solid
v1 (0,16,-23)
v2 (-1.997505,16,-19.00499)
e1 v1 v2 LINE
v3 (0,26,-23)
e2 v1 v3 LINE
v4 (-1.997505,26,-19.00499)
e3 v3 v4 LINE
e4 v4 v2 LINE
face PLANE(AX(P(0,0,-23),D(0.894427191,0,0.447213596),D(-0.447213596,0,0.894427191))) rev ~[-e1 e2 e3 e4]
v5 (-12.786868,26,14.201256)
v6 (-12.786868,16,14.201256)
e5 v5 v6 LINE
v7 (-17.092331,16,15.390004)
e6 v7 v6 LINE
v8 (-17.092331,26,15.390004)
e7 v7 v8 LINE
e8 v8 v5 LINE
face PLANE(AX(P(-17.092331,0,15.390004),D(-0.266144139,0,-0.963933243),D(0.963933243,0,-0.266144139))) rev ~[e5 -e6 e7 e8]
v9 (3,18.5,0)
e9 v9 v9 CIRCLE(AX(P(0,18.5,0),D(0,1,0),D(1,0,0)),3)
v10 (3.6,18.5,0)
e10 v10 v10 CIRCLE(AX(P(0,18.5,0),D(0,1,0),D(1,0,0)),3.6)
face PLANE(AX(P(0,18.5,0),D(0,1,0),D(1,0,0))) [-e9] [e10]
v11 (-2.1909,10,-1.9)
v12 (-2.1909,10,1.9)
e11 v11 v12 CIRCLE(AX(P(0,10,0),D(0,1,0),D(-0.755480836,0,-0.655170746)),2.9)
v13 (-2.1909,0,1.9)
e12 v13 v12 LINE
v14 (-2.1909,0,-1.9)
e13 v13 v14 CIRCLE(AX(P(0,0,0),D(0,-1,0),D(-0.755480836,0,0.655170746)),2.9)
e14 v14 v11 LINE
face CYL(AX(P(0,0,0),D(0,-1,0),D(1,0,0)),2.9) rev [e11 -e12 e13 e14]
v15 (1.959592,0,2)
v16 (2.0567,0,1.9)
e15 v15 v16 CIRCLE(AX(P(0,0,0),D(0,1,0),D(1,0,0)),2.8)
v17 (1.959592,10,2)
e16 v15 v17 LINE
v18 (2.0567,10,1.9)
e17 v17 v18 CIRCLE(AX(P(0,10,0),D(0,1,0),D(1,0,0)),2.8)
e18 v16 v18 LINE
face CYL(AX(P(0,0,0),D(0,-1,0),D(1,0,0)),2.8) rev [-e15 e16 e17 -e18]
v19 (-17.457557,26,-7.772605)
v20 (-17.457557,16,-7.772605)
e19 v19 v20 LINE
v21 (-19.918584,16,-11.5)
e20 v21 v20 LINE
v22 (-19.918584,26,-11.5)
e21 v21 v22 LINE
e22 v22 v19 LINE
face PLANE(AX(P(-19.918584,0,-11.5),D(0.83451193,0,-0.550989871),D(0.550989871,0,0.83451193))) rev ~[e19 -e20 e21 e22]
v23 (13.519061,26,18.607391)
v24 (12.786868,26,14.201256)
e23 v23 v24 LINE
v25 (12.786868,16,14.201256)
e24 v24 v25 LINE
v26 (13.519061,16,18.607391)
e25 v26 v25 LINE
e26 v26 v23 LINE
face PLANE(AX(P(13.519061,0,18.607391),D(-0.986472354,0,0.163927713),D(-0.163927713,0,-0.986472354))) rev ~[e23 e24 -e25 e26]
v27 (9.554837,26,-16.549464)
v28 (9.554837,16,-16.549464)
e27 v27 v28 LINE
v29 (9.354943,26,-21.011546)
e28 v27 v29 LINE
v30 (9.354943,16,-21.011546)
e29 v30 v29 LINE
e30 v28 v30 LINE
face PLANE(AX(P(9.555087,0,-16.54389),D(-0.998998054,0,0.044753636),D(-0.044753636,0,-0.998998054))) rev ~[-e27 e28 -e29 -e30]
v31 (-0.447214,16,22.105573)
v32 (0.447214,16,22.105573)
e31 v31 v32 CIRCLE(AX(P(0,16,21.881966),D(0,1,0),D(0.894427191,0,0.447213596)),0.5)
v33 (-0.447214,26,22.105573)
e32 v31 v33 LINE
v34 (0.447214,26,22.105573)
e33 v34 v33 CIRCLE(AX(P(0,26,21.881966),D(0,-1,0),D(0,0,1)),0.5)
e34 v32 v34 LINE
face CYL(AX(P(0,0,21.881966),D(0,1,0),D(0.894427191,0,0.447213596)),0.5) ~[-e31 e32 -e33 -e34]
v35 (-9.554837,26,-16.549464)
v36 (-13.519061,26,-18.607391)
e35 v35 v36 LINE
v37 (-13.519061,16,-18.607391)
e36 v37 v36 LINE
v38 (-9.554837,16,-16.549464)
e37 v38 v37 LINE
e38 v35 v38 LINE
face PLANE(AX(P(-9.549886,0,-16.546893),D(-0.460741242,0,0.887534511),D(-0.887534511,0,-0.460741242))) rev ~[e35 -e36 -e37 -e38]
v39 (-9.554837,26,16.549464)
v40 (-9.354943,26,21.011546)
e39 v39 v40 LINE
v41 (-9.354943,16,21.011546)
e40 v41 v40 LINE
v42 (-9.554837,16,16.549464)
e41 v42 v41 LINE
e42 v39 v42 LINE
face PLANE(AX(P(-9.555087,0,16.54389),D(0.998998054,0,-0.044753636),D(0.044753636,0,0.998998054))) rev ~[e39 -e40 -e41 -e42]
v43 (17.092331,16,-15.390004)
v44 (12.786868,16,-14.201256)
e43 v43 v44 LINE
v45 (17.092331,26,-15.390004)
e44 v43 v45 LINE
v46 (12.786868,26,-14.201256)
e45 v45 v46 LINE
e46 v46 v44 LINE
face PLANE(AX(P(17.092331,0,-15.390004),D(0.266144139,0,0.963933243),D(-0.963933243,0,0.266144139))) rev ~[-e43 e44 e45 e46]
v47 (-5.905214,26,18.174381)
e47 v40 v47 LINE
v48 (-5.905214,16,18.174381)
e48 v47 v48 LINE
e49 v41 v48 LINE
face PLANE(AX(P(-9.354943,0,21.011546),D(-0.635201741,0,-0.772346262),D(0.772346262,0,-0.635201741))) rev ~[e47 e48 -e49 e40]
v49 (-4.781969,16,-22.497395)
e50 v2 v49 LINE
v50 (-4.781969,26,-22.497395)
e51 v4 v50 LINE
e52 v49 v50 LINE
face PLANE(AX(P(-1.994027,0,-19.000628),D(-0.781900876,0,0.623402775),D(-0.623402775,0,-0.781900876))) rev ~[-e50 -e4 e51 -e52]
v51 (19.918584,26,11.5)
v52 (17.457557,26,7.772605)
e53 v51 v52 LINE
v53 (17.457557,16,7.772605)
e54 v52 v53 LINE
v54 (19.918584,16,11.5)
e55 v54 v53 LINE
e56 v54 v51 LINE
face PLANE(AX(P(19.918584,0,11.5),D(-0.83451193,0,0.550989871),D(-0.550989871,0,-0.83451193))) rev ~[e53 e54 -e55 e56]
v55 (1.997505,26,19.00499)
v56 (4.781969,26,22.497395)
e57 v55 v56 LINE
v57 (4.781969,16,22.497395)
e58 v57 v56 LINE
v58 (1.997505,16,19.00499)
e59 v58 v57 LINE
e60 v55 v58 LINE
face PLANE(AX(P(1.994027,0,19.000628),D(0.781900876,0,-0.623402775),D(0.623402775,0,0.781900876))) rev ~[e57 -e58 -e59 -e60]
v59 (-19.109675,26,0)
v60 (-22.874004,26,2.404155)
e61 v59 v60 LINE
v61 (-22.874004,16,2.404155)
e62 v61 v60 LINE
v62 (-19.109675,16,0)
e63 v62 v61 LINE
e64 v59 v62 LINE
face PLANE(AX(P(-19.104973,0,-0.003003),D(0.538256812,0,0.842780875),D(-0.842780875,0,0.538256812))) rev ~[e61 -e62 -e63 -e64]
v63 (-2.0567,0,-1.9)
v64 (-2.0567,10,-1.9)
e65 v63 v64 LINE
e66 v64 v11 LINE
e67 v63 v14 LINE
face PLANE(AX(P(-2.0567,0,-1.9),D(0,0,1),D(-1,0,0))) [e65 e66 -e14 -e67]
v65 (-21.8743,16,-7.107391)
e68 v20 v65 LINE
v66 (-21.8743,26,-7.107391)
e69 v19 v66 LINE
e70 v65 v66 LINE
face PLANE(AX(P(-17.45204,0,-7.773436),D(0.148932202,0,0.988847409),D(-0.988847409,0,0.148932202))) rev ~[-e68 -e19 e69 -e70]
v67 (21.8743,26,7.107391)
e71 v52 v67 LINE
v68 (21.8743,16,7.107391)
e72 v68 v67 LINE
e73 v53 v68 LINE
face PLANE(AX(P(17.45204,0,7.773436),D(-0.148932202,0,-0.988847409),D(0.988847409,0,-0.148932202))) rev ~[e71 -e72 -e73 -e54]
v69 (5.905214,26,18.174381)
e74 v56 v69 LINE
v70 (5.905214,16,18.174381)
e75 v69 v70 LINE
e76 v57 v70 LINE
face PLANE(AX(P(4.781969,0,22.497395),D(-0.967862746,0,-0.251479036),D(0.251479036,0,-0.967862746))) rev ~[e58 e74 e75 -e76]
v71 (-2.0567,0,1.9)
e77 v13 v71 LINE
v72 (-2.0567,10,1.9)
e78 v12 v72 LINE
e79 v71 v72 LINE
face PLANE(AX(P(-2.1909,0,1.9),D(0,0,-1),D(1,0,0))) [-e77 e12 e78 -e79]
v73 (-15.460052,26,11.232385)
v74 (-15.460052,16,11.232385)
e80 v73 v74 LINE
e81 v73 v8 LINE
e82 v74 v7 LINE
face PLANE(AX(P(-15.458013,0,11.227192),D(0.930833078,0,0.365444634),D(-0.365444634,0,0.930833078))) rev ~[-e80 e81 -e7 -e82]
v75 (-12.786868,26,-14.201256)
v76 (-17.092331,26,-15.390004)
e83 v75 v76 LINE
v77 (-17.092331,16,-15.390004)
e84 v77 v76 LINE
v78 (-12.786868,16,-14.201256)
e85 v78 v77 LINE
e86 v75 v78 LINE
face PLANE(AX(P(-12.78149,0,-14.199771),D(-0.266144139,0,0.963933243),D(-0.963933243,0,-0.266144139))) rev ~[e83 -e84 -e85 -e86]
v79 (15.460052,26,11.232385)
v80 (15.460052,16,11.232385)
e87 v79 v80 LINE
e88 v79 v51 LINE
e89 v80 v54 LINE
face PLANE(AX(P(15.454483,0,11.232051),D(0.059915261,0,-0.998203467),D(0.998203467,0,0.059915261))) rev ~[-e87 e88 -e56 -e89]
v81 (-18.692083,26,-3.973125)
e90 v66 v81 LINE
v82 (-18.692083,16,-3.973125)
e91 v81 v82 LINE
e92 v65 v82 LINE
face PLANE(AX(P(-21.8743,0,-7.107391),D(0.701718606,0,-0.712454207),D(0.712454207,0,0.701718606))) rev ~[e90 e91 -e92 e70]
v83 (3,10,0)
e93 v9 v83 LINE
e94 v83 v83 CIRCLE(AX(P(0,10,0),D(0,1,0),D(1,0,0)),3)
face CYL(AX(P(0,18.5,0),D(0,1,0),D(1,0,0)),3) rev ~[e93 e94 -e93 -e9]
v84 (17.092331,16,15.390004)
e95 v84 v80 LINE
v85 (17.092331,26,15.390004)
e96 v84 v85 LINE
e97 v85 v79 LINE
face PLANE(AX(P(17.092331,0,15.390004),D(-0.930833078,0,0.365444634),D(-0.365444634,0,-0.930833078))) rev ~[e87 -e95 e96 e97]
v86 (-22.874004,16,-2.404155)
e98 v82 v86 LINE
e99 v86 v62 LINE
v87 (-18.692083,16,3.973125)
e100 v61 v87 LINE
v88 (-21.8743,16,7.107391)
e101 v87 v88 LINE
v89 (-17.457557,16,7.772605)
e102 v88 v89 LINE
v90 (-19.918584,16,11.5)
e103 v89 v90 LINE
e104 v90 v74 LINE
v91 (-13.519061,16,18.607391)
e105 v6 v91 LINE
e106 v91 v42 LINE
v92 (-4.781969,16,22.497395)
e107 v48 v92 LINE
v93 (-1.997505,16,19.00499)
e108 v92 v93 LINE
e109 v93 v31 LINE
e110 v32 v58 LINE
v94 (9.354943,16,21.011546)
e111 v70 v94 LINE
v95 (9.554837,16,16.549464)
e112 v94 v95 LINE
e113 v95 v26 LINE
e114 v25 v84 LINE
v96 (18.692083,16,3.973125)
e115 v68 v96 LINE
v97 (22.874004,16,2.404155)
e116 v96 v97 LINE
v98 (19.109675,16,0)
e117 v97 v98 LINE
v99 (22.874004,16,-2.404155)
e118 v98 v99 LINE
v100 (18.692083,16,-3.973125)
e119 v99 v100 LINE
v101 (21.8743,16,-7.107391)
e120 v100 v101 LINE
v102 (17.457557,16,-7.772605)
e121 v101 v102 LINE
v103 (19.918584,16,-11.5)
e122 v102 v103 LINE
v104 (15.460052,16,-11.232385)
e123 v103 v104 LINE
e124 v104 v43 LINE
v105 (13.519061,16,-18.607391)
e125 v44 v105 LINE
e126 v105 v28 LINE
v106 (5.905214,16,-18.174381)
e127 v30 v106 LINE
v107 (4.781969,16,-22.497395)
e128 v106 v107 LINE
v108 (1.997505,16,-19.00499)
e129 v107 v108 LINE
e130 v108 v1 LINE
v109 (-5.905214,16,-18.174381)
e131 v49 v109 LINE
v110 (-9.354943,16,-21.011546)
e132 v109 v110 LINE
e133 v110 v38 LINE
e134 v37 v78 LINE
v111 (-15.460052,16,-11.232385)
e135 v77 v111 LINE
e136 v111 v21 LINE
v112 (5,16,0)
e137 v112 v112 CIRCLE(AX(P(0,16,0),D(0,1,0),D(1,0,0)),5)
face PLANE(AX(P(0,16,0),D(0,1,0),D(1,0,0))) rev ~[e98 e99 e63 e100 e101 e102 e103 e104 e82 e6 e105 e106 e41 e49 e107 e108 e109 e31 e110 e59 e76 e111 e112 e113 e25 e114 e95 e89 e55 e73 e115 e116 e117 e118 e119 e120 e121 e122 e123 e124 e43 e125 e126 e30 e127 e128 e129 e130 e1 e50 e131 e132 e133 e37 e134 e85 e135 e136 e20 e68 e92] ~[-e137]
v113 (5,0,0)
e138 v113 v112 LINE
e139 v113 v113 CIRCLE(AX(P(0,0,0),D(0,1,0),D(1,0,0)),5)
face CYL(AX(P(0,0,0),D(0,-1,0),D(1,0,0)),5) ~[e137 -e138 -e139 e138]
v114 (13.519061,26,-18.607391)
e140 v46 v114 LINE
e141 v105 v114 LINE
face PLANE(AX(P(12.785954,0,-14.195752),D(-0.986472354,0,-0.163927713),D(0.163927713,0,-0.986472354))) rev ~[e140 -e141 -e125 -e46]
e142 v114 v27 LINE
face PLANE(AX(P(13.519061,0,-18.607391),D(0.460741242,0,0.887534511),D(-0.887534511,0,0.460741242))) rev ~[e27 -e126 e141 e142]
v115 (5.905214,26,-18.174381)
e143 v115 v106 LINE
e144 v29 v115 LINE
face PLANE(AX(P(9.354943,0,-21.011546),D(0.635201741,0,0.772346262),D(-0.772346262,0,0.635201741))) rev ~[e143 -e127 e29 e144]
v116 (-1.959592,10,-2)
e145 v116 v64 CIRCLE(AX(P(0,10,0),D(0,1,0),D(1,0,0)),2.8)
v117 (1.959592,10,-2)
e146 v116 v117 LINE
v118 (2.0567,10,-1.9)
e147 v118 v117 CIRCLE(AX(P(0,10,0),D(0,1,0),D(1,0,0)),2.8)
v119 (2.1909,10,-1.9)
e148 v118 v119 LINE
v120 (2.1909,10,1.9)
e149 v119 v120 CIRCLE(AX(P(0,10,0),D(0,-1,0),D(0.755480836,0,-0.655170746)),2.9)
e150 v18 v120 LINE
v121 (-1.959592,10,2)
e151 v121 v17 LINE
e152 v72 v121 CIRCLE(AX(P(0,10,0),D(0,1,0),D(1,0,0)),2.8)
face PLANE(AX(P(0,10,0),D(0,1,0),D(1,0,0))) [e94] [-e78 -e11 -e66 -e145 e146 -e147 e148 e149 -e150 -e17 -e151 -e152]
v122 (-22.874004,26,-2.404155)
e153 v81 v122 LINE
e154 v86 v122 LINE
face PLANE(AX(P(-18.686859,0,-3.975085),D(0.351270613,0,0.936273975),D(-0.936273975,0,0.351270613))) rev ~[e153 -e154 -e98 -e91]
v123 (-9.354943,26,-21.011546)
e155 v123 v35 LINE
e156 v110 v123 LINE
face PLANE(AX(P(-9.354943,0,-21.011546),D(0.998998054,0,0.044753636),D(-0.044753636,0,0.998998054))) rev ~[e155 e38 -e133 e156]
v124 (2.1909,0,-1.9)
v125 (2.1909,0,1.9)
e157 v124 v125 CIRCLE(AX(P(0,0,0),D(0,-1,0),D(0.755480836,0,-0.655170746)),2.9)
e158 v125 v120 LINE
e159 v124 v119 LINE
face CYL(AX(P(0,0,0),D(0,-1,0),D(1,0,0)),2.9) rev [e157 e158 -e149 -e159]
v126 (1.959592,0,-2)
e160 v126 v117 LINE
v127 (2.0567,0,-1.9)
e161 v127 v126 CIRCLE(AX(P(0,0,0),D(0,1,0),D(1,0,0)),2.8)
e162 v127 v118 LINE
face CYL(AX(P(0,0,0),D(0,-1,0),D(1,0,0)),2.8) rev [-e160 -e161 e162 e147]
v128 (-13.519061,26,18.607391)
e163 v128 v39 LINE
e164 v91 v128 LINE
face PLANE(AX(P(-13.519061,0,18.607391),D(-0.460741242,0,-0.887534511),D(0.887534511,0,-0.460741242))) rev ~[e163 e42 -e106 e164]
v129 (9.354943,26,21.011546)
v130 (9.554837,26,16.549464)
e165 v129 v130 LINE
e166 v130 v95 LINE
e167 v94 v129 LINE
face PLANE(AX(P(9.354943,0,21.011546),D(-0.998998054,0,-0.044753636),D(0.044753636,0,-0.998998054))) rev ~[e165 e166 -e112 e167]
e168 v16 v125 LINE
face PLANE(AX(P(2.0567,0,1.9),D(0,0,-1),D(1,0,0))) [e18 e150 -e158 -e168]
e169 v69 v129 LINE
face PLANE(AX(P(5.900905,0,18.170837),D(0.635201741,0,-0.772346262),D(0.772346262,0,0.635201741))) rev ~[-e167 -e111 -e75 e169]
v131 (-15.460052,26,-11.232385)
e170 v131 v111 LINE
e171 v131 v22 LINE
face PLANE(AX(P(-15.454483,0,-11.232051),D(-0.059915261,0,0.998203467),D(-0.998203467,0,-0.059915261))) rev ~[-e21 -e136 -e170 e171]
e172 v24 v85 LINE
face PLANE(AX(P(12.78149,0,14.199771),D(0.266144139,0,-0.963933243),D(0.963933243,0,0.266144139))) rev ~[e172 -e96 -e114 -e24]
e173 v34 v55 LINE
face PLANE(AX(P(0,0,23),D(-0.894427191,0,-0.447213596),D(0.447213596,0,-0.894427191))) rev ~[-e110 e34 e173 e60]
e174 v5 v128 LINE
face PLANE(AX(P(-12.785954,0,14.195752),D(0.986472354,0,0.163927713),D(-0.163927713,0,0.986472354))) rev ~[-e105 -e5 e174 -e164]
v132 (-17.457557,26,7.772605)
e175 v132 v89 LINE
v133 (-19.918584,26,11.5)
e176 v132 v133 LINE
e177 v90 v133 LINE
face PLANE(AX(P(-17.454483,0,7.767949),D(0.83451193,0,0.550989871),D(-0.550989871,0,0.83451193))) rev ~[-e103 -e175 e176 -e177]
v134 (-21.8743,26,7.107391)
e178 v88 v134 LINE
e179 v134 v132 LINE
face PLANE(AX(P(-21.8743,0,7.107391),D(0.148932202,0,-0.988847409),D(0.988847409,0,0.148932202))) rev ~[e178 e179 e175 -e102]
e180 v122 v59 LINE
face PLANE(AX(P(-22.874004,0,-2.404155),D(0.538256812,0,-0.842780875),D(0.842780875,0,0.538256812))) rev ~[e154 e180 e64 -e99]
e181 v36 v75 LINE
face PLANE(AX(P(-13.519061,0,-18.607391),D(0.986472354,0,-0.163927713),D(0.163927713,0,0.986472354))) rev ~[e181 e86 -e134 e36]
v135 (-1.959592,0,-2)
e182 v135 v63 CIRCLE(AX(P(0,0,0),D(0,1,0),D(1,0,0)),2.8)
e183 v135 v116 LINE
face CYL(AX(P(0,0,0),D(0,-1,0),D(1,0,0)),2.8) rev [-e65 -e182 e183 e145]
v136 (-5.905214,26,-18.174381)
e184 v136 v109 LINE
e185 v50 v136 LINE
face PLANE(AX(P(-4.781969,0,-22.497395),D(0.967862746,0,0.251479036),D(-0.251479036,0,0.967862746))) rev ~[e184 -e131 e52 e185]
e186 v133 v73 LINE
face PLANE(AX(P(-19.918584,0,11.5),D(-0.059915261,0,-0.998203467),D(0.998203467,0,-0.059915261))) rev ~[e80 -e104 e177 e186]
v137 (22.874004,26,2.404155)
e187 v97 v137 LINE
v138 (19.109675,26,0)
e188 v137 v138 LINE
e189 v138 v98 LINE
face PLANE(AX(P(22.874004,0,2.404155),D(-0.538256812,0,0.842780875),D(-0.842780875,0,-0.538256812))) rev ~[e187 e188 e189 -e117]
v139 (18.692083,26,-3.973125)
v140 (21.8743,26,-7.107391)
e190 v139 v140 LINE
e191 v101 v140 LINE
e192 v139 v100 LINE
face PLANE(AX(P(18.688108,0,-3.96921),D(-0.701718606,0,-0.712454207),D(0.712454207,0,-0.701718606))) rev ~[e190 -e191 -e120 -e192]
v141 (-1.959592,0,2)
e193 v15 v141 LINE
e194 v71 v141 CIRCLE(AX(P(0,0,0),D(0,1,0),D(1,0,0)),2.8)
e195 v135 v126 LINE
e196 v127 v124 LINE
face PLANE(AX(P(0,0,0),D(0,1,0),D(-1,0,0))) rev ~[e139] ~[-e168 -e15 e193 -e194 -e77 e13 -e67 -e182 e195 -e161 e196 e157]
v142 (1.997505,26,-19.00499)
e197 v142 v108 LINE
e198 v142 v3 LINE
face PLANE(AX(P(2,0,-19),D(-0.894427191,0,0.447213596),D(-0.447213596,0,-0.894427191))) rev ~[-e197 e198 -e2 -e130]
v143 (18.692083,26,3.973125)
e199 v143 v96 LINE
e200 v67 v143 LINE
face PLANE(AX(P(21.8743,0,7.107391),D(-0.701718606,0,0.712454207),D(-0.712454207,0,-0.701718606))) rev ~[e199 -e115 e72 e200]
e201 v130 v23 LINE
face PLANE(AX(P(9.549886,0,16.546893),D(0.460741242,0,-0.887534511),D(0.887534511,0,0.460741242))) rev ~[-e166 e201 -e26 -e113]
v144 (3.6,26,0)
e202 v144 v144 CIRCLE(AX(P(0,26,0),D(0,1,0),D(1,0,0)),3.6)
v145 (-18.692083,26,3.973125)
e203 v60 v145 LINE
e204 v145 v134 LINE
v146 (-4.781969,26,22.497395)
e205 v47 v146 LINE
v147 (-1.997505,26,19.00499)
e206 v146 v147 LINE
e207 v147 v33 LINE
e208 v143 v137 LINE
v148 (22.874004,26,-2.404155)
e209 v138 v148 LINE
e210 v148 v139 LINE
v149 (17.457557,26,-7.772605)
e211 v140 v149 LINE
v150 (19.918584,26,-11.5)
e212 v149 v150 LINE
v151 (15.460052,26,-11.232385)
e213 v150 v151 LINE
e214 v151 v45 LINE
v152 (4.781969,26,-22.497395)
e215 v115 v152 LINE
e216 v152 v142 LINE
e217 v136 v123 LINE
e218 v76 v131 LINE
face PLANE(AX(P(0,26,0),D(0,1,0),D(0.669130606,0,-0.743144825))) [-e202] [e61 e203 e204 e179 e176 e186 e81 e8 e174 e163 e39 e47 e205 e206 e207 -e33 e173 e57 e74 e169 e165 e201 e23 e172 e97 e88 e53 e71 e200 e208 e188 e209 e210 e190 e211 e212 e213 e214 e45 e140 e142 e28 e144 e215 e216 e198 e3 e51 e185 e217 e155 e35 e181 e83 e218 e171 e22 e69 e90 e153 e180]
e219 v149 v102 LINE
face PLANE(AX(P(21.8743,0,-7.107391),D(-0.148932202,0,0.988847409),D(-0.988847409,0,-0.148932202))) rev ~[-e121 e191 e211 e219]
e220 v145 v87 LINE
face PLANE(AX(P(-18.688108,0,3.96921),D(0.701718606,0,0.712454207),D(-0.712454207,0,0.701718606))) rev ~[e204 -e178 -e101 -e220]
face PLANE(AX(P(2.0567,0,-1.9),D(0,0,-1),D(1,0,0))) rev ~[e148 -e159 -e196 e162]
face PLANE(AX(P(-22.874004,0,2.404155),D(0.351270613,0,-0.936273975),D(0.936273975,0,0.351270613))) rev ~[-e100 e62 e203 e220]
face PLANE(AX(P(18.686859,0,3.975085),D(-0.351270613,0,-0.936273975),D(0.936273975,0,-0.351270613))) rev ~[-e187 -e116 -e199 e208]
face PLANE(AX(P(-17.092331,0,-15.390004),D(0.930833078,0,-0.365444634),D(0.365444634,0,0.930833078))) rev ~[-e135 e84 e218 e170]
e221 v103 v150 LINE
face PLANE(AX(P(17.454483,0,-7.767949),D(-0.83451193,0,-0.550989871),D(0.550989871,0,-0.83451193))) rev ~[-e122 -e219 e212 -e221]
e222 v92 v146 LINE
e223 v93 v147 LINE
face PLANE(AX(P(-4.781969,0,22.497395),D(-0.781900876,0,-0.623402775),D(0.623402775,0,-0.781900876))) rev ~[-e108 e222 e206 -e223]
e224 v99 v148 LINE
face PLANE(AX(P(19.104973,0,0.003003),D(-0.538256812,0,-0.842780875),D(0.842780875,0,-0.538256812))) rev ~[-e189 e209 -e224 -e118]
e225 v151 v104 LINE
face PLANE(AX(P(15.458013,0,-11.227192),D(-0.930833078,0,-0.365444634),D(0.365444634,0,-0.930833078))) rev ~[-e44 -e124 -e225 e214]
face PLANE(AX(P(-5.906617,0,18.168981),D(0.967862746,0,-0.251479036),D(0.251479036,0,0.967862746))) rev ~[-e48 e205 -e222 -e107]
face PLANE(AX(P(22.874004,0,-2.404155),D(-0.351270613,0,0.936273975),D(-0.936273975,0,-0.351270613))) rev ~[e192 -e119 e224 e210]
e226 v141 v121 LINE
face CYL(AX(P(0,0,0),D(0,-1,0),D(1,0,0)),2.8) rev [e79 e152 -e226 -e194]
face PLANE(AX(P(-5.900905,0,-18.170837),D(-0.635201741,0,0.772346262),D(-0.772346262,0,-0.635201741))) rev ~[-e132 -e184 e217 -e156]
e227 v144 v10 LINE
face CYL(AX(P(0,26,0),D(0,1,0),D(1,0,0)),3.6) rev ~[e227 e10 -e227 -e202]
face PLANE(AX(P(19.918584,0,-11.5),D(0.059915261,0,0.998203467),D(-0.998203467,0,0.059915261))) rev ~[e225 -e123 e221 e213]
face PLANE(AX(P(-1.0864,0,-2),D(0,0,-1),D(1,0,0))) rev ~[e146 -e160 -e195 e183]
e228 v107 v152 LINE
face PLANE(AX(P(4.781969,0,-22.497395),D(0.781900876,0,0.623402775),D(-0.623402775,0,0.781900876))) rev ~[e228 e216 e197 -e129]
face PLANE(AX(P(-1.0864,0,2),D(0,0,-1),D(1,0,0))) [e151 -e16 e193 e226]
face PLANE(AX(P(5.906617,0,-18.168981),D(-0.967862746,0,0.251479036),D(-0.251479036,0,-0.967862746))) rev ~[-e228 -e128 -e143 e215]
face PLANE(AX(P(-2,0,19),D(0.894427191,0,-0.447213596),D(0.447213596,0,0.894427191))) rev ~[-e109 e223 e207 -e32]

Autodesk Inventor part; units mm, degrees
ref_plane "YZ Plane" through (0, 0, 0) normal (1, 0, 0) x (0, 1, 0)
ref_plane "XZ Plane" through (0, 0, 0) normal (0, 1, 0) x (-1, 0, 0)
ref_plane "XY Plane" through (0, 0, 0) normal (0, 0, 1) x (1, 0, 0)
sketch "Sketch1" plane through (0, 0, 0) normal (0, 1, 0) x (-1, 0, 0)
  line L0 (-2, 0) -> (2, 0)
  line L1 (-2, 0) -> (-2, 1)
  line L2 (-2, 1) -> (0, 0)
  line L3 (0, 0) -> (2, 1)
  line L4 (0, 0) -> (0, 19)
  line L5 (0, 19) -> (2, 19)
  line L6 (-2, 19) -> (0, 19)
  line L7 (0, 19) -> (0, 23)
  line L8 (0, 23) -> (-2, 19)
  line L9 (2, 19) -> (0, 23)
  line L10 (2, 0) -> (2, 19)
  line L11 (-2, 19) -> (-2, 0)
  point P0 (0, 41)
  dimension "d6" = 1
  dimension "d10" = 19
  dimension "d11" = 4
extrude "Extrusion1" add sketch "Sketch1" along normal blind 26 contours L3 L10 L0 | L4 L5 L10 L3 | L2 L11 L6 L4 | L7 L9 L5 | L6 L8 L7
pattern_circular "Circular Pattern1" count 30 over 360 about axis through (0, 0, 0) along (0, 1, 0) of "Extrusion1"
fillet "Fillet1" radius 0.5 1 edges at (0, 13, 23)
sketch "Sketch2" plane through (0, 26, 0) normal (0, 1, 0) x (1, 0, 0)
  circle A0 centre (0, 0) radius 1.5
  circle A1 centre (0, 0) radius 2.8
  line L0 (0, 0) -> (0, 1.9)
  line L1 (0, 1.9) -> (0, -1.9)
  line L2 (0, -1.9) -> (-2.0567, -1.9)
  line L3 (0, -1.9) -> (2.0567, -1.9)
  line L4 (0, 1.9) -> (2.0567, 1.9)
  line L5 (0, 1.9) -> (-2.0567, 1.9)
  circle A2 centre (0, 0) radius 3.6
  line L6 (0, 0) -> (0, 0.7)
  line L7 (0, 0) -> (0, -0.7)
  circle A3 centre (0, 0) radius 2.9
  line L8 (0, 0.7) -> (-2.8142, 0.7)
  line L9 (0, -0.7) -> (-2.8142, -0.7)
  line L10 (0, -0.7) -> (2.8142, -0.7)
  line L11 (0, 0.7) -> (2.8142, 0.7)
  circle A4 centre (0, 0) radius 5
  circle A5 centre (0, 0) radius 15
  circle A6 centre (0, 0) radius 30.1844
  line L12 (-2.0567, 1.9) -> (-2.1909, 1.9)
  line L13 (-2.1909, -1.9) -> (-2.0567, -1.9)
  line L14 (2.0567, -1.9) -> (2.1909, -1.9)
  line L15 (2.0567, 1.9) -> (2.1909, 1.9)
  line L16 (-1.0864, -1.9) -> (-1.0864, -2)
  line L17 (-1.0864, 1.9) -> (-1.0864, 2)
  line L18 (-1.0864, 2) -> (-2.1, 2)
  line L19 (-1.0864, 2) -> (2.1, 2)
  line L20 (-2.1, -2) -> (-1.0864, -2)
  line L21 (-1.0864, -2) -> (2.1, -2)
  circle A7 centre (0, 0) radius 3
  point P0 (1.9596, -2)
  point P1 (-1.9596, -2)
  point P2 (1.9596, 2)
  point P3 (-1.9596, 2)
  dimension "d30" = 5.8
  dimension "d13" = 3
  dimension "d19" = 5.6
  dimension "d20" = 1.9
  dimension "d21" = 3.8
  dimension "d27" = 7.2
  dimension "d28" = 0.7
  dimension "d29" = 0.7
  dimension "d37" = 10
  dimension "d38" = 30
  dimension "d43" = 0.1
  dimension "d44" = 0.1
  dimension "d47" = 6
extrude "Extrusion2" cut sketch "Sketch2" against normal blind 7.5 contours A0 L10 L1 L0 L11 | A0 L11 A1 L10 | L11 L0 A0 | A0 L0 L4 A1 L11 | L10 A1 L3 L1 A0 | A0 L1 L10 | L0 L8 A0 | A0 L8 A1 L5 L0 | L0 L1 L9 A0 L8 | L11 A3 L10 A1 | A1 L15 A3 L11 | L1 L2 A1 L9 A0 | A0 L9 L1 | L10 A3 L14 A1 | A0 L9 A1 L8 | L5 L17 L19 A1 L4 | A1 L19 A3 L15 | L3 A1 L21 L16 L2 | L14 A3 L21 A1 | L8 A3 L12 A1 | A1 L9 A3 L8 | L5 A1 L18 L17 | L19 L18 A1 | A1 L18 A3 L19 | A1 L13 A3 L9 | L16 L20 A1 L2 | L21 A3 L20 A1 | A1 L20 L21 | L12 A3 L18 A1 | A1 L20 A3 L13 | A2 | A7
pattern_circular "Circular Pattern2" [suppressed]
extrude "Extrusion4" cut sketch "Sketch2" against normal blind 8.5 from surface at -7.5 contours A0 L10 L1 L0 L11 | A0 L11 A1 L10 | L11 L0 A0 | A0 L0 L4 A1 L11 | L10 A1 L3 L1 A0 | A0 L1 L10 | L0 L8 A0 | A0 L8 A1 L5 L0 | L0 L1 L9 A0 L8 | L11 A3 L10 A1 | A1 L15 A3 L11 | L1 L2 A1 L9 A0 | A0 L9 L1 | L10 A3 L14 A1 | A0 L9 A1 L8 | L5 L17 L19 A1 L4 | A1 L19 A3 L15 | L3 A1 L21 L16 L2 | L14 A3 L21 A1 | L8 A3 L12 A1 | A1 L9 A3 L8 | L5 A1 L18 L17 | L19 L18 A1 | A1 L18 A3 L19 | A1 L13 A3 L9 | L16 L20 A1 L2 | L21 A3 L20 A1 | A1 L20 L21 | L12 A3 L18 A1 | A1 L20 A3 L13 | A7
extrude "Extrusion6" cut sketch "Sketch2" along normal blind 10 from surface at -26 contours A0 L10 L1 L0 L11 | A0 L11 A1 L10 | L11 L0 A0 | A0 L0 L4 A1 L11 | L10 A1 L3 L1 A0 | A0 L1 L10 | L0 L8 A0 | A0 L8 A1 L5 L0 | L0 L1 L9 A0 L8 | L11 A3 L10 A1 | A1 L15 A3 L11 | L1 L2 A1 L9 A0 | A0 L9 L1 | L10 A3 L14 A1 | A0 L9 A1 L8 | L5 L17 L19 A1 L4 | L3 A1 L21 L16 L2 | L8 A3 L12 A1 | A1 L9 A3 L8 | L5 A1 L18 L17 | A1 L13 A3 L9 | L16 L20 A1 L2
extrude "Extrusion9" cut sketch "Sketch2" along normal blind 16 from surface at -26 contours A5 | A6
properties part number "motor driven gear straight teeth for potentiometer"
